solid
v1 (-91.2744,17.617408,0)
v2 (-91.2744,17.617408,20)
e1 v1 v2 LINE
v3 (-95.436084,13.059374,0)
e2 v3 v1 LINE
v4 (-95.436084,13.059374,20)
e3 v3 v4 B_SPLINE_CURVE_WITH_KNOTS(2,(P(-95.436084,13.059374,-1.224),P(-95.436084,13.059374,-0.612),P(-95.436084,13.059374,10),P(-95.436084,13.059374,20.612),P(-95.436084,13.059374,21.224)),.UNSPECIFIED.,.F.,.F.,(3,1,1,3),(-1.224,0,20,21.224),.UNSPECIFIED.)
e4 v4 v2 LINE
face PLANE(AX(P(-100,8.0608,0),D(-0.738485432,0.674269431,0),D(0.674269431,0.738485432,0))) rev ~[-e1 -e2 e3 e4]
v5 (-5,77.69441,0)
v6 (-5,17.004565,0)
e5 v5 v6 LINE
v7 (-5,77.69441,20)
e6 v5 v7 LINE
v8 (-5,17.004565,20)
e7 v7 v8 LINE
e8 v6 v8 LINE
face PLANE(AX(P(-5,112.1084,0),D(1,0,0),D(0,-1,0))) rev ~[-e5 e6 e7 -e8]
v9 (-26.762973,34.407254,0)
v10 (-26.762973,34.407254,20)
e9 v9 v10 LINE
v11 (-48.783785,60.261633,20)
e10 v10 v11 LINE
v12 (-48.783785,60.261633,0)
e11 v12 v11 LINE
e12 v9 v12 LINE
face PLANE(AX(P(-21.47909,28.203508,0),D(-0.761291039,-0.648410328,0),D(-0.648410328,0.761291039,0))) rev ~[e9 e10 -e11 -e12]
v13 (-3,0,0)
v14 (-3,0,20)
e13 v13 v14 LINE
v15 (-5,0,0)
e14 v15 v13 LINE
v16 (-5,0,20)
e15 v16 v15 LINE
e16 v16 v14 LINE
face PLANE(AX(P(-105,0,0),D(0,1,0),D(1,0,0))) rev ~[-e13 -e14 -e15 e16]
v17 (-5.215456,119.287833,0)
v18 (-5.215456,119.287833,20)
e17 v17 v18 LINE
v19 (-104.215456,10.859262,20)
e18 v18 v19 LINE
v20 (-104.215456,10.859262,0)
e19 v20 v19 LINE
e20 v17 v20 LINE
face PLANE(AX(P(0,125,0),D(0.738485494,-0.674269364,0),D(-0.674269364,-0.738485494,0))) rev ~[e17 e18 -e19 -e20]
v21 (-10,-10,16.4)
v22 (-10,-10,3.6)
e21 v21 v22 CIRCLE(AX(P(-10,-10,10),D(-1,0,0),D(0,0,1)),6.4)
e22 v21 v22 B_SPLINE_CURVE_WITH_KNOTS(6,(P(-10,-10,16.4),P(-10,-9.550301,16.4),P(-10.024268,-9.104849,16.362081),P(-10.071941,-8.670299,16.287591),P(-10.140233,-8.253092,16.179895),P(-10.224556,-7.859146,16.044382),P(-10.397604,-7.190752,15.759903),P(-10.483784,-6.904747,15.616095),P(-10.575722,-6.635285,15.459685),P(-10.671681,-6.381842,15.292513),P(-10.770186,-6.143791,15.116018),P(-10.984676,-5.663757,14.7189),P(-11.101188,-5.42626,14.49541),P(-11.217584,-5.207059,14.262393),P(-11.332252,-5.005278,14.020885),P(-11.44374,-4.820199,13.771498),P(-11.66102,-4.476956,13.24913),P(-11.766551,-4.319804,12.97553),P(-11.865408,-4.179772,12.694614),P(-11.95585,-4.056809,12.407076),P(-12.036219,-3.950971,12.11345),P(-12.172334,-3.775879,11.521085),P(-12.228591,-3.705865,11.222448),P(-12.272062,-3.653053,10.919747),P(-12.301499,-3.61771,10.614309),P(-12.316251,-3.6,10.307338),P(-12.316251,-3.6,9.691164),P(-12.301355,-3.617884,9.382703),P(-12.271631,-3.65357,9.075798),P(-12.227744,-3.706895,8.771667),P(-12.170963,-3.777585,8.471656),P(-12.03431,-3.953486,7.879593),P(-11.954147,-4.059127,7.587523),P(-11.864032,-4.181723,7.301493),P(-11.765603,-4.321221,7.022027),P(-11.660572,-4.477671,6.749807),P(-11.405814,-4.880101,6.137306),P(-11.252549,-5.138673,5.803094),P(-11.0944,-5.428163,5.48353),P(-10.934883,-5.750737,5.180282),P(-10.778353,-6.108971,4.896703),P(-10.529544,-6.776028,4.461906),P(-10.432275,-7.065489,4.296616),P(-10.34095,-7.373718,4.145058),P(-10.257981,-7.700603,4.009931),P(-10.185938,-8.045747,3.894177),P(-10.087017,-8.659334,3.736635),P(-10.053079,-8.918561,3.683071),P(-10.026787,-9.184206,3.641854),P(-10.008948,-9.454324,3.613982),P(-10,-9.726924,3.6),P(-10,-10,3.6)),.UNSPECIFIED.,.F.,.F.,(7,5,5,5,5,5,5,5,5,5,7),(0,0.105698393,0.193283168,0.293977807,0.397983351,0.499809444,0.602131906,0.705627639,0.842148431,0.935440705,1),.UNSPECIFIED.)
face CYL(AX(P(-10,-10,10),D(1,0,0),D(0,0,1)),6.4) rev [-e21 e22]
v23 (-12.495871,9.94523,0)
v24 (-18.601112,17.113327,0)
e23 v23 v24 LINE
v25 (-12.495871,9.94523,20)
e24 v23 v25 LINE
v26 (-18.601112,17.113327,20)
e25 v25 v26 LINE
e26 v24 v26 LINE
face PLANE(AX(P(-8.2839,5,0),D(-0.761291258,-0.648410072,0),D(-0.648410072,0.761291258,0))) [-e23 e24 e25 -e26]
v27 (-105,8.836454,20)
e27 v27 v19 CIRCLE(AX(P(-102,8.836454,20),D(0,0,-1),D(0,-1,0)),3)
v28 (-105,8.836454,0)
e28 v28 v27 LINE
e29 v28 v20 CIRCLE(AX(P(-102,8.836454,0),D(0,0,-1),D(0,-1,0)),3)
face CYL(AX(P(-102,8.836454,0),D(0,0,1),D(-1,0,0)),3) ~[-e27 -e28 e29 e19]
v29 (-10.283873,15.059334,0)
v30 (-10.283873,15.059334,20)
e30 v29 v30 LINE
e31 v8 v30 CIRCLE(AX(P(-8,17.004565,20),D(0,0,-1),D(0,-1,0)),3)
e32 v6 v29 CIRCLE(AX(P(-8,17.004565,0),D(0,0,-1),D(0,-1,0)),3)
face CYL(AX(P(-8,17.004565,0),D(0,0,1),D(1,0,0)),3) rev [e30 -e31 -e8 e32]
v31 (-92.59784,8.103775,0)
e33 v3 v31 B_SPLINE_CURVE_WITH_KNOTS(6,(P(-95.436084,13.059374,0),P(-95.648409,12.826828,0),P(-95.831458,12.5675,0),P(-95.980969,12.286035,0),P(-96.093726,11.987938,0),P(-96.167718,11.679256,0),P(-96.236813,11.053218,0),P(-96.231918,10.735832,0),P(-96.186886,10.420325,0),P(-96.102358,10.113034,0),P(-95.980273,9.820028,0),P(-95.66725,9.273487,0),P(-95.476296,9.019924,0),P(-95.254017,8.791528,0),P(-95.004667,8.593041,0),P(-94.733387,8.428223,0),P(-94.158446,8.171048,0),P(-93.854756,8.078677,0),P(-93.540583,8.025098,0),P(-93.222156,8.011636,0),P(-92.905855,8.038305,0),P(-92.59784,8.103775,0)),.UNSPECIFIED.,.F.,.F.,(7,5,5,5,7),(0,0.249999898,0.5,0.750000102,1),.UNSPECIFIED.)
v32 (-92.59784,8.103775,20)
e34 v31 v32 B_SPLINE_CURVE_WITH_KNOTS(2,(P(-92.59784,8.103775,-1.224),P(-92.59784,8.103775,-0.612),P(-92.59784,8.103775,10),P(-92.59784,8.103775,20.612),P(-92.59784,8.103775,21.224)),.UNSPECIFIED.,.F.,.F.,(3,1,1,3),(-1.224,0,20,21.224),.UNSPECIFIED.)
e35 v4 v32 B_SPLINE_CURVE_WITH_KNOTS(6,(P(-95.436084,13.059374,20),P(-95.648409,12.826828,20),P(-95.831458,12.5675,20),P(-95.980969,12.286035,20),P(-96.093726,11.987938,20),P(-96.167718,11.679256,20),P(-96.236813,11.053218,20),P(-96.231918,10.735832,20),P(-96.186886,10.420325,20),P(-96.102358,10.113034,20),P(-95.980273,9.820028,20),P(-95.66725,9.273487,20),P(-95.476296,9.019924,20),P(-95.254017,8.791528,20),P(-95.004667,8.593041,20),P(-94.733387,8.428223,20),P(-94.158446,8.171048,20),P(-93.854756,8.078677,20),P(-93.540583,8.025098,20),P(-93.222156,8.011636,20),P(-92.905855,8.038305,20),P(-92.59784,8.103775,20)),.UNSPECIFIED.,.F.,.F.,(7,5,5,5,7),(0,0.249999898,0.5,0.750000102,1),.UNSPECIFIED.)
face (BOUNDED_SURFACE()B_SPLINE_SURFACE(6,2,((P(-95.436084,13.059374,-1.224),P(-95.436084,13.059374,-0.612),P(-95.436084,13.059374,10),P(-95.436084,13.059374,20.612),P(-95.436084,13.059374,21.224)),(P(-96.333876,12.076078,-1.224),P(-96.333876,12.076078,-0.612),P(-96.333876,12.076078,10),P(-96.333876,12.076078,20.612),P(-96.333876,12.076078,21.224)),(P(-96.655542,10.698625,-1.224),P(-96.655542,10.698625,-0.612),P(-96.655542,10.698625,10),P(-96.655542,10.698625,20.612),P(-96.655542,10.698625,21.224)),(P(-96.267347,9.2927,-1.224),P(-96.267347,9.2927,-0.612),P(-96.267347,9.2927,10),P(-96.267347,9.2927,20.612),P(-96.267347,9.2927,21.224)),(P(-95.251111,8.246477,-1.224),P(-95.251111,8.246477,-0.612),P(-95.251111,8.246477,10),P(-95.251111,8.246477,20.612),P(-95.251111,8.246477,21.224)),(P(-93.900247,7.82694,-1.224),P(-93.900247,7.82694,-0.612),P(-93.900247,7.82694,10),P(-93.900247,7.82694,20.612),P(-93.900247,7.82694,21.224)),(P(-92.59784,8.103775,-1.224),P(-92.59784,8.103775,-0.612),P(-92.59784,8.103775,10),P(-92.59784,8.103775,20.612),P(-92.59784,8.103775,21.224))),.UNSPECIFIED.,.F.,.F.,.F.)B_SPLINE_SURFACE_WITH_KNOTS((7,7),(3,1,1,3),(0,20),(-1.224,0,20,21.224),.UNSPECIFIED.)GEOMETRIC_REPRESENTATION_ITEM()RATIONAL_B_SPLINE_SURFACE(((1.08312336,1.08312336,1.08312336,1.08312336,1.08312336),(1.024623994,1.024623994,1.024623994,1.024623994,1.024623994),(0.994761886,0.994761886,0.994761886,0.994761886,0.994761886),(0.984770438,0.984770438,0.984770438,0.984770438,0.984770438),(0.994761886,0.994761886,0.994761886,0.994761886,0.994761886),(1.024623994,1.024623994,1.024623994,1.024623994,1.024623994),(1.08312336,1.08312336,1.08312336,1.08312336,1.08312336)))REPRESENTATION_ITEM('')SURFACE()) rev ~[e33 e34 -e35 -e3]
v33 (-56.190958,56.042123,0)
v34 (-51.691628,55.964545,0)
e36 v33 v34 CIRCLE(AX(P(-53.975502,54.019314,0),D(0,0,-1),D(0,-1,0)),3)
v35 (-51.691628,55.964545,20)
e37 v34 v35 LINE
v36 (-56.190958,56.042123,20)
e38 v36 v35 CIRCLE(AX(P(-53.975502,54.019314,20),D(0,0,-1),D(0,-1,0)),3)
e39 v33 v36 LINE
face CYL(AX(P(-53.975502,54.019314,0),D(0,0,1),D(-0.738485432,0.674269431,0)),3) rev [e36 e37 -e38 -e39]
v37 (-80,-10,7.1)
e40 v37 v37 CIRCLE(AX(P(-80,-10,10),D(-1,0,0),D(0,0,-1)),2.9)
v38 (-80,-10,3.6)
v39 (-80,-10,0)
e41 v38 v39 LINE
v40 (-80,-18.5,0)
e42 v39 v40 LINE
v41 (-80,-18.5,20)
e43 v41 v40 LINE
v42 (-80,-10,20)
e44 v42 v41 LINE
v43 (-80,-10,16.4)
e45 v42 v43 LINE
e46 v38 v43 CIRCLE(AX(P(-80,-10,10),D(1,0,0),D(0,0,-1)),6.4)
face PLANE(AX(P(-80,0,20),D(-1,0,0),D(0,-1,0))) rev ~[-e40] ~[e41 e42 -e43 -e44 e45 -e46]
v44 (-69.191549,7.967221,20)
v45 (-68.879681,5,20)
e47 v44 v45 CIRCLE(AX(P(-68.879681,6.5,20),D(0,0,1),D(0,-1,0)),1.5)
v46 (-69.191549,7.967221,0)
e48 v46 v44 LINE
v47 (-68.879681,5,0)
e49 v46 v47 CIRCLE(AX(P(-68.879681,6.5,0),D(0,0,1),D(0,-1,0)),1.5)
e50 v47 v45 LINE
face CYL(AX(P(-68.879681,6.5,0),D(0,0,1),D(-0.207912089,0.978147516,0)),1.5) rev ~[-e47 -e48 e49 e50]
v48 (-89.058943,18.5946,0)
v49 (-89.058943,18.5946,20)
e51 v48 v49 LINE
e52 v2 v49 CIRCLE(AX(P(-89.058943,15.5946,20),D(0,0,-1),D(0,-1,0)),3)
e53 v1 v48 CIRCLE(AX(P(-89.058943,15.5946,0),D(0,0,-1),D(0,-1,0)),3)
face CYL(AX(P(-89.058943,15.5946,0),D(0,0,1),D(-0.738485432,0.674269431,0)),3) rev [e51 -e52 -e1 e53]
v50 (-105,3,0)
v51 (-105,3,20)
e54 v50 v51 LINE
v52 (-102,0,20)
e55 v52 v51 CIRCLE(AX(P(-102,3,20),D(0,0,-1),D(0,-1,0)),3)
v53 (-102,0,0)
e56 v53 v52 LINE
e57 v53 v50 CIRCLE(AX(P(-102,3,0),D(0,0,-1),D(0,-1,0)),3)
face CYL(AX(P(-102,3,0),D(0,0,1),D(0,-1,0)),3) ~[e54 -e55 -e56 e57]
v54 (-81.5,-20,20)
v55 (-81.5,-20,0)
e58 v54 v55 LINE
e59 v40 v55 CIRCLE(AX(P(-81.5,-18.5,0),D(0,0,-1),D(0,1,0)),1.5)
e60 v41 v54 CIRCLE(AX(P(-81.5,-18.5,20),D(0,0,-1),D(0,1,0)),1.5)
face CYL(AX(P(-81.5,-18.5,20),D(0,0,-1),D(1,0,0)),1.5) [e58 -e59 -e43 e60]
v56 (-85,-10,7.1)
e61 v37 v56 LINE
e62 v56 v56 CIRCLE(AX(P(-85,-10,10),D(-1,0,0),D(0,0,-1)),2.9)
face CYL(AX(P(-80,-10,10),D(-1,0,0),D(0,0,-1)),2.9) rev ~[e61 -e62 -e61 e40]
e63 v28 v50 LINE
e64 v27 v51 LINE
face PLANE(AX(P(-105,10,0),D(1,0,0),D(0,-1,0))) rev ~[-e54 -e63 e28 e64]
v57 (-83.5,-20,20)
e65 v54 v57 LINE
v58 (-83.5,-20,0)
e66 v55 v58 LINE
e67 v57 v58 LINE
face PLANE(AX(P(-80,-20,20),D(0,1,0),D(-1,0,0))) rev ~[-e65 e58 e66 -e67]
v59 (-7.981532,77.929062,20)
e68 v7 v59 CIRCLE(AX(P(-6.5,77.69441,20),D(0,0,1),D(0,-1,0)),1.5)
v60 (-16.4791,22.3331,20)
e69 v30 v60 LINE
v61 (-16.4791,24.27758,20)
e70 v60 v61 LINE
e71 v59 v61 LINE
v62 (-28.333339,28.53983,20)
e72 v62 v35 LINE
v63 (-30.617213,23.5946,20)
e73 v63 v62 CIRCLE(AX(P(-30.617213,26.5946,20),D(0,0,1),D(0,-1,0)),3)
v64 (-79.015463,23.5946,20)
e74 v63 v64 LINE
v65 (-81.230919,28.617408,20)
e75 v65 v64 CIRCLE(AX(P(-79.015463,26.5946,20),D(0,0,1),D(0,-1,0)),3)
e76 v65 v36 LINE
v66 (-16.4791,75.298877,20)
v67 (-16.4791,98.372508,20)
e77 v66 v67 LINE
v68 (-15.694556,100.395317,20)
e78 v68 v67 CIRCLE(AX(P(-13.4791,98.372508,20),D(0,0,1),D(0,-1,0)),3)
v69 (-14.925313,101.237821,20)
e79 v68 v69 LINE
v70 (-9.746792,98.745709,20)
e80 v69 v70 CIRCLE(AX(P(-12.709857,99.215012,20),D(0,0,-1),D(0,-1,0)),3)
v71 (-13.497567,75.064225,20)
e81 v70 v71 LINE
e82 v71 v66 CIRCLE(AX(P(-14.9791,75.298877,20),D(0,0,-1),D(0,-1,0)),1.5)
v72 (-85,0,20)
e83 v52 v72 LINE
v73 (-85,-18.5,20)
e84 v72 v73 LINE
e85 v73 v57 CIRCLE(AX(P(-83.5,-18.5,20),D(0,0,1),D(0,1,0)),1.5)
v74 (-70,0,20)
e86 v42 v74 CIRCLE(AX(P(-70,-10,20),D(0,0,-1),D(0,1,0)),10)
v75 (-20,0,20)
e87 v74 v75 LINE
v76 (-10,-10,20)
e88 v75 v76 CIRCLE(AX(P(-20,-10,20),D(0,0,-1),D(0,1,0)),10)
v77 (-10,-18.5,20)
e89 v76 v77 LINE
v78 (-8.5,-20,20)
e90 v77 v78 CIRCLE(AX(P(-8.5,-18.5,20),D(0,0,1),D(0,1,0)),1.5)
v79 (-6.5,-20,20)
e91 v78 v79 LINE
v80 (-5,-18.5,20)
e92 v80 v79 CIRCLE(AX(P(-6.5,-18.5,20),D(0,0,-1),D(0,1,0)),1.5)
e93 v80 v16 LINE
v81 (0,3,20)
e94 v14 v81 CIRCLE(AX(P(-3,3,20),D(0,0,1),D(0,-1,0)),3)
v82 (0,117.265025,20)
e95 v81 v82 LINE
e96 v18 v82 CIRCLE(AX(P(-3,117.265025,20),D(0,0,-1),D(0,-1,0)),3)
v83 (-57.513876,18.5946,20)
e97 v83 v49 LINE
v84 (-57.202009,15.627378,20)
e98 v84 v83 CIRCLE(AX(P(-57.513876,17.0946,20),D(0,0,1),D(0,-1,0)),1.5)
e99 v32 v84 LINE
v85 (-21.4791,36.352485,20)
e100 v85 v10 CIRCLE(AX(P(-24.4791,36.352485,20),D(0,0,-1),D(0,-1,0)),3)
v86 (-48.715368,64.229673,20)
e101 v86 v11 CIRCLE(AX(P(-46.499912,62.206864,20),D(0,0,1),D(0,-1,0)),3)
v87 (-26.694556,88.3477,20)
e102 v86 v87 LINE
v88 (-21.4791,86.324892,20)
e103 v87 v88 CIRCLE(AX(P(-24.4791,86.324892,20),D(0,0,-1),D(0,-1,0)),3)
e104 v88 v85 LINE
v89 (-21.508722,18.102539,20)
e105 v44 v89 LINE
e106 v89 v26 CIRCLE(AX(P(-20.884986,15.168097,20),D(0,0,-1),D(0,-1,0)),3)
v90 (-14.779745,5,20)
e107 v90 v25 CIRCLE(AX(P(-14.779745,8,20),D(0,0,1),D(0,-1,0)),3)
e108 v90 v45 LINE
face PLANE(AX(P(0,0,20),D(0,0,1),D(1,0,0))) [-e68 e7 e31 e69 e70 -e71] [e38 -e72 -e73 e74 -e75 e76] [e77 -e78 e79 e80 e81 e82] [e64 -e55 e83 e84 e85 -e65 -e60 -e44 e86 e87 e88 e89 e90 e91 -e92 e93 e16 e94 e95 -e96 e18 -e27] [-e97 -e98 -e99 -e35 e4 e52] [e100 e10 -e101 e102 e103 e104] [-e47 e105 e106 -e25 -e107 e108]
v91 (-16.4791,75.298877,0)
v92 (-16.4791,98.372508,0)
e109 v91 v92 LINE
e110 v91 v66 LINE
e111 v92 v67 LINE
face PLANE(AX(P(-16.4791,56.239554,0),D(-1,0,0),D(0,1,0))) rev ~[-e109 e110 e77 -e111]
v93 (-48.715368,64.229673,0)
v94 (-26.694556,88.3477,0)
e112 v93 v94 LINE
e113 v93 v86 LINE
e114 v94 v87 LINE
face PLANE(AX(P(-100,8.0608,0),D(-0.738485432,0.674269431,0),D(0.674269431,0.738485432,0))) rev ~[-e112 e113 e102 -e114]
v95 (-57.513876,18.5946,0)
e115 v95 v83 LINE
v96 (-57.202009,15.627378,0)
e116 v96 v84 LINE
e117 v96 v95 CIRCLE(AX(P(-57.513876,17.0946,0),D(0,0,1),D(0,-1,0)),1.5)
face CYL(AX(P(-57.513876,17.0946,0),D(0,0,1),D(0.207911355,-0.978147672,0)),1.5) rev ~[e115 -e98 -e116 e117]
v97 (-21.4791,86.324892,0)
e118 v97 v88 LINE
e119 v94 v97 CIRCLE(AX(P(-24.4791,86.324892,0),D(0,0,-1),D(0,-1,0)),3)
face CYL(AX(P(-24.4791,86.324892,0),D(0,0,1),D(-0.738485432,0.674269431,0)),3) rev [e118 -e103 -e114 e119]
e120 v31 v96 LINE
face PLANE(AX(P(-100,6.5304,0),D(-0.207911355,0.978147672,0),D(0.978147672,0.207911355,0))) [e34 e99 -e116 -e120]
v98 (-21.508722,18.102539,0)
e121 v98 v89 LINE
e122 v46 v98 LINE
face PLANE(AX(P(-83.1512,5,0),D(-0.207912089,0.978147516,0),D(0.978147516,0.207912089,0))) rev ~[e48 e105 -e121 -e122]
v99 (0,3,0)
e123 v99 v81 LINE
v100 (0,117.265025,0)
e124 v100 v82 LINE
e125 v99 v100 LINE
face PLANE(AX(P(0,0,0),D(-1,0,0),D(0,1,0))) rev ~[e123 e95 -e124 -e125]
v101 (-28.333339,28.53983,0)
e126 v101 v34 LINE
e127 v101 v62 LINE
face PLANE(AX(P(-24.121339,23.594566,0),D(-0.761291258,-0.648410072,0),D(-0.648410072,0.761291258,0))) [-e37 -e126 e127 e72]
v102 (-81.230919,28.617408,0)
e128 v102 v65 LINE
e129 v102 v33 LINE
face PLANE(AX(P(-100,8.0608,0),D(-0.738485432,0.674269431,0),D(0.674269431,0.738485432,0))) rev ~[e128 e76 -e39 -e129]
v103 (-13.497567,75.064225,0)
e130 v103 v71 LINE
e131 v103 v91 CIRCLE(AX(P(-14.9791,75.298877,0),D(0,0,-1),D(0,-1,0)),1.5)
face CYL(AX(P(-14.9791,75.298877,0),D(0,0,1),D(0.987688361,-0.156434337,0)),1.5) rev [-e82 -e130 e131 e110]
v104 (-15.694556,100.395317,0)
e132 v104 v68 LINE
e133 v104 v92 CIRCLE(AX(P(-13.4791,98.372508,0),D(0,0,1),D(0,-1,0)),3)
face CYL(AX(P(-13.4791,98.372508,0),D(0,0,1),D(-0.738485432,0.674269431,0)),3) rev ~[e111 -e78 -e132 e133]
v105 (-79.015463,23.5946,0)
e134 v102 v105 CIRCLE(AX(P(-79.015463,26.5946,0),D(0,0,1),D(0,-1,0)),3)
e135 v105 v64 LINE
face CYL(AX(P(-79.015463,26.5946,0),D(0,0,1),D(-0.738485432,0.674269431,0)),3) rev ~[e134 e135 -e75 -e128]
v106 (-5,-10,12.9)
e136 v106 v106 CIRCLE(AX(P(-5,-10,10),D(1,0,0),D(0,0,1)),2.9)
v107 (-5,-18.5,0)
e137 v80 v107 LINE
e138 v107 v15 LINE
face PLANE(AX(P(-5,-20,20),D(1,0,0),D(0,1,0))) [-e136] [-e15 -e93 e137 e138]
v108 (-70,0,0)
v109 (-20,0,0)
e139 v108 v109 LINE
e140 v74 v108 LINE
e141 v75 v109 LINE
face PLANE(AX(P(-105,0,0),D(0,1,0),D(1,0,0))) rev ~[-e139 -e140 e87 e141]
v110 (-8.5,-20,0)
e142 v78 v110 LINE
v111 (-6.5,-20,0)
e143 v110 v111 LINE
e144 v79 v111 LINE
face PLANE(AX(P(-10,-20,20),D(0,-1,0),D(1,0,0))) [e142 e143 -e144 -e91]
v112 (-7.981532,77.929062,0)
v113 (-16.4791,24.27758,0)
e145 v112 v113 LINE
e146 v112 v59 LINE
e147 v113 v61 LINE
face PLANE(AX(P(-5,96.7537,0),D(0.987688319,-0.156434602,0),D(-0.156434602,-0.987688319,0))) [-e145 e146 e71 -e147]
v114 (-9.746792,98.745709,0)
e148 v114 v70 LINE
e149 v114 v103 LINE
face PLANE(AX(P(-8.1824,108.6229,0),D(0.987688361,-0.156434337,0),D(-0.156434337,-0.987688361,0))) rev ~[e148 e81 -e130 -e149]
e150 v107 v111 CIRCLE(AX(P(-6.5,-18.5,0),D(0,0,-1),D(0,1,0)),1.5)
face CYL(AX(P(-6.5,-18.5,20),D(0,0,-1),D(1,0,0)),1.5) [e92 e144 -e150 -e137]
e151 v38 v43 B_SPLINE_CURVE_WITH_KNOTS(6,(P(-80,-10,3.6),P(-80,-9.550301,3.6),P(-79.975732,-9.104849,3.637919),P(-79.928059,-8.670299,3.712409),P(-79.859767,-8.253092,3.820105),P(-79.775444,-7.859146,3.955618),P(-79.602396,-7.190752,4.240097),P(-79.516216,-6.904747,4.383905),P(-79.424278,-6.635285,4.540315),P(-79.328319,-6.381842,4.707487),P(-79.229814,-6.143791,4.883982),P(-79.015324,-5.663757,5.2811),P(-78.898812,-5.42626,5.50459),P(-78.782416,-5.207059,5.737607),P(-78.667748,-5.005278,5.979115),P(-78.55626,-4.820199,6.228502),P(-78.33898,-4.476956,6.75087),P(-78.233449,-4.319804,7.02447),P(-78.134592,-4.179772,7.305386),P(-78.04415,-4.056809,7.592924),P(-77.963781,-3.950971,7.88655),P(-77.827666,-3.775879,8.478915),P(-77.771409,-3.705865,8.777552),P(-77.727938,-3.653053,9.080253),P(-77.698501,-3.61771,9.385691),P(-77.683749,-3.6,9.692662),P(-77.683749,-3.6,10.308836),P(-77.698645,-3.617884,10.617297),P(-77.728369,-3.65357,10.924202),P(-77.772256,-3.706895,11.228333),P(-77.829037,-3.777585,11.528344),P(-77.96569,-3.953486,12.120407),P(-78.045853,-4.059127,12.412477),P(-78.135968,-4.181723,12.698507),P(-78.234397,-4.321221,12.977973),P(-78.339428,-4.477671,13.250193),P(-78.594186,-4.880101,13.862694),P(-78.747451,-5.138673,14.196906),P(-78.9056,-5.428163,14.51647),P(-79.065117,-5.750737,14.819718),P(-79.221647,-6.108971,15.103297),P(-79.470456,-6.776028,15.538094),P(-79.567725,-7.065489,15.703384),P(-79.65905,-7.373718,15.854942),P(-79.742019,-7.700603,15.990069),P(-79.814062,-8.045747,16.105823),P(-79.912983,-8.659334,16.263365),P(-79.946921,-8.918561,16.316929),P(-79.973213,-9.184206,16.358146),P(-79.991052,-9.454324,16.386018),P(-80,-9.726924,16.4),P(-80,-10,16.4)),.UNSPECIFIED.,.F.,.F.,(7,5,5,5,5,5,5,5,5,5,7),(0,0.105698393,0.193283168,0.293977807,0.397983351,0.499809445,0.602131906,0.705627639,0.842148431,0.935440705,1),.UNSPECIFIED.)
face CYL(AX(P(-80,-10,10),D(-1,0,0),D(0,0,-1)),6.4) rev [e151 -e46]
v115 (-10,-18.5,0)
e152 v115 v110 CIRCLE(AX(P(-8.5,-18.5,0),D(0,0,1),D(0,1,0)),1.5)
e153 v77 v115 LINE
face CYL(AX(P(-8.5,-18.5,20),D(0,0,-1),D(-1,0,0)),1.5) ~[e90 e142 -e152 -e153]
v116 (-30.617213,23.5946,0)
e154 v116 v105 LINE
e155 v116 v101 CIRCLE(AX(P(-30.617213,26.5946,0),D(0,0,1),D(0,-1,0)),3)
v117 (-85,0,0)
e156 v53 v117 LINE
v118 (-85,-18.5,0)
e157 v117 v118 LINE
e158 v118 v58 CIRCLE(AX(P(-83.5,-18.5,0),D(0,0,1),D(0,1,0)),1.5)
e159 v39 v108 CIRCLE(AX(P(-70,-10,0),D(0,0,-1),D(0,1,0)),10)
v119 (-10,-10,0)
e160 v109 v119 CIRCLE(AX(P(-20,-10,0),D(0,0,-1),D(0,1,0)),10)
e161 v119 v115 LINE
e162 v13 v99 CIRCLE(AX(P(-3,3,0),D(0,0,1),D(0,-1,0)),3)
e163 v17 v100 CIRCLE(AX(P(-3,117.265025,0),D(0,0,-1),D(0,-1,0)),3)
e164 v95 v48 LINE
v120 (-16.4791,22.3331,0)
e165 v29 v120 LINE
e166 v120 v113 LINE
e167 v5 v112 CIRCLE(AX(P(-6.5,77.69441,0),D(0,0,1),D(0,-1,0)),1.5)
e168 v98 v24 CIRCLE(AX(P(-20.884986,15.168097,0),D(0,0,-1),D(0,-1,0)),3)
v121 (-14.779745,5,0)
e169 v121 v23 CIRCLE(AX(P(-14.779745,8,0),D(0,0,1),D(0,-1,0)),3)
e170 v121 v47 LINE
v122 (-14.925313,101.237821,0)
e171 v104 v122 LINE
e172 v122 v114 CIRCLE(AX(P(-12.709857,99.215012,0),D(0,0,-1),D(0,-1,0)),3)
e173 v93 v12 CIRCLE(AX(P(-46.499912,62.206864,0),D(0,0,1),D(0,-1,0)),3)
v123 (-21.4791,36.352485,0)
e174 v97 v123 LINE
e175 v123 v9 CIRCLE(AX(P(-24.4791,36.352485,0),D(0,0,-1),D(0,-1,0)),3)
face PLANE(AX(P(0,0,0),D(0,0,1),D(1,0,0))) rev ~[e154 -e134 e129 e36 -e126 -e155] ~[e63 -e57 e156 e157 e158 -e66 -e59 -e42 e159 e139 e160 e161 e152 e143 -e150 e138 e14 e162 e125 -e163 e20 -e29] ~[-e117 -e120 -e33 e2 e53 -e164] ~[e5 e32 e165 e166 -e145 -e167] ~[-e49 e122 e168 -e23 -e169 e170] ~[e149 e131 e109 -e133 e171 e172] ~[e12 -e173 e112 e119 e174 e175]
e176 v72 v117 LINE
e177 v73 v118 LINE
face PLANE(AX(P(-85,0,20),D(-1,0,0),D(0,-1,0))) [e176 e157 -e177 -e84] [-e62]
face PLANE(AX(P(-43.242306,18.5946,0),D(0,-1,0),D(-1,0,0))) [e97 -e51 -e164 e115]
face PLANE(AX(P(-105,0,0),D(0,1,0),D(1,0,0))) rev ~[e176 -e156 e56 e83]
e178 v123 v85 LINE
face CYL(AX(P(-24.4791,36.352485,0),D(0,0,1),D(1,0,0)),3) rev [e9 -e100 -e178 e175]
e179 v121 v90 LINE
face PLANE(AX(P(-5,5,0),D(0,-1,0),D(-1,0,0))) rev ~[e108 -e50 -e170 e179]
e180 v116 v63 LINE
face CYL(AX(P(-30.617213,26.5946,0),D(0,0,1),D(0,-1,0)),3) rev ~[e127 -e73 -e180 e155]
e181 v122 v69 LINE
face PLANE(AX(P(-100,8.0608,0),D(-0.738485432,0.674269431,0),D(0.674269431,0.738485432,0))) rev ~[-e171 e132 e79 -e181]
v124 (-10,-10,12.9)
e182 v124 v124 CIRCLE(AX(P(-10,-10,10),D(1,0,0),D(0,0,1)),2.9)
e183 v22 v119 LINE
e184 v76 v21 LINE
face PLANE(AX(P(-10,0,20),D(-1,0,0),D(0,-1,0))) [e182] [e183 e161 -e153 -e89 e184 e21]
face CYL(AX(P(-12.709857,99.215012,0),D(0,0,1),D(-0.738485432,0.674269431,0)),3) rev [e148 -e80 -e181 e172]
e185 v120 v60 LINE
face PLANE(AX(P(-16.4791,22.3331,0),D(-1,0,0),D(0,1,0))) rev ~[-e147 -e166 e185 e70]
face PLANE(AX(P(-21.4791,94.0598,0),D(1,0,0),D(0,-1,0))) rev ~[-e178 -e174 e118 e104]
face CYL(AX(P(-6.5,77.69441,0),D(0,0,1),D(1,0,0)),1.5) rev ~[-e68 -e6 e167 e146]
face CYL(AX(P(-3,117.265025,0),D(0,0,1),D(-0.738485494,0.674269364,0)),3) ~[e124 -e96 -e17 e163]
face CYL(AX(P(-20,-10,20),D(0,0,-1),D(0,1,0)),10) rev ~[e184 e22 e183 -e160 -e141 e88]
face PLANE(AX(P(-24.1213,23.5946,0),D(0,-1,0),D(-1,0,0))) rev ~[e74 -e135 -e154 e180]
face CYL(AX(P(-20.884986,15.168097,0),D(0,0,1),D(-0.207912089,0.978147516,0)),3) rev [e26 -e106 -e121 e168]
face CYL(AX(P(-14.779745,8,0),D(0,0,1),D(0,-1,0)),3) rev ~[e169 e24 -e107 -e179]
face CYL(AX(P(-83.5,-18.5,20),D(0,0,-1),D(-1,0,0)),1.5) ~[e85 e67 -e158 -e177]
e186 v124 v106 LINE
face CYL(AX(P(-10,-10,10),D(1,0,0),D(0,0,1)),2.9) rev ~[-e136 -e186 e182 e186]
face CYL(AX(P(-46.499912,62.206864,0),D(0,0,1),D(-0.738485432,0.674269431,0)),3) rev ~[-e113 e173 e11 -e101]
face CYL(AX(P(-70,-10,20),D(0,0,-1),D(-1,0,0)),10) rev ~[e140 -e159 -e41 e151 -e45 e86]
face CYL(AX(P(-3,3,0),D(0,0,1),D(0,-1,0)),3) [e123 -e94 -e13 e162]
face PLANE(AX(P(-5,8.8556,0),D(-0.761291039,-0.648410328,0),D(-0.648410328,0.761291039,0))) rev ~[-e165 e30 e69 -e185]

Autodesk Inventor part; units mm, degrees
ref_plane "YZ Plane" through (0, 0, 0) normal (1, 0, 0) x (0, 1, 0)
ref_plane "XZ Plane" through (0, 0, 0) normal (0, 1, 0) x (-1, 0, 0)
ref_plane "XY Plane" through (0, 0, 0) normal (0, 0, 1) x (1, 0, 0)
sketch "Sketch1" plane through (0, 0, 0) normal (0, 0, 1) x (1, 0, 0)
  line L0 (0, 0) -> (0, 125)
  line L1 (0, 125) -> (-105, 10)
  line L2 (-105, 10) -> (-105, 0)
  line L3 (-105, 0) -> (0, 0)
  line L4 (-100, 8.0608) -> (-5, 112.1084)
  line L5 (-5, 112.1084) -> (-5, 5)
  line L6 (-5, 5) -> (-100, 5)
  line L7 (-100, 5) -> (-100, 8.0608)
  point P0 (-52.5, 62.5)
  point P1 (-52.5, 0)
  point P2 (0, 62.5)
  dimension "d0" = 10
  dimension "d1" = 105
  dimension "d2" = 125
  dimension "d3" = 5
extrude "Extrusion1" add sketch "Sketch1" along normal blind 20
sketch "Sketch2" plane through (0, 0, 0) normal (0, 0, -1) x (-1, 0, 0)
  line L0 (5, 112.1084) -> (5, 5) projected
  line L1 (5, 8.8556) -> (50.4993, 62.2758)
  line L2 (100, 8.0608) -> (5, 112.1084) projected
  line L3 (5, 5) -> (100, 5) projected
  line L4 (8.2839, 5) -> (53.8973, 58.5542)
  line L5 (16.4791, 22.3331) -> (16.4791, 99.536)
  line L6 (21.4791, 94.0598) -> (21.4791, 28.2035)
  line L7 (24.1213, 23.5946) -> (85.817, 23.5946)
  line L8 (19.8627, 18.5946) -> (90.3822, 18.5946)
  line L9 (100, 5) -> (100, 8.0608) projected
  line L10 (100, 6.5304) -> (23.4466, 22.8023)
  line L11 (83.1512, 5) -> (19.7602, 18.4742)
  line L12 (8.1824, 108.6229) -> (21.0073, 27.6496)
  line L13 (5, 96.7537) -> (16.7388, 22.6379)
  point P0 (0, 0)
  point P1 (16.4791, 56.2397)
  point P2 (43.2425, 18.5946)
  point P3 (16.4791, 24.2774)
  dimension "d8" = 2.5
  dimension "d9" = 2.5
  dimension "d10" = 5
  dimension "d11" = 5
  dimension "d16" = 5
  dimension "d17" = 12
  dimension "d18" = 5
  dimension "d19" = 9
extrude "Extrusion2" add sketch "Sketch2" against normal blind 20 contours L2 L12 L5 L13 L0 | L1 L2 L4 L3 L0 | L13 L1 L5 | L5 L12 L1 L13 | L2 L6 L1 L12 L5 | L11 L4 L8 L10 L9 L3 | L4 L10 L8 | L2 L8 L10 L4 L7
fillet "Fillet1" radius 3 18 edges at (-90.3822, 18.5946, 10) (-53.8973, 58.5542, 10) (-85.817, 23.5946, 10) (-24.1213, 23.5946, 10) (-50.4993, 62.2758, 10) (-21.4791, 94.0598, 10) (-16.4791, 99.536, 10) (-21.4791, 28.2035, 10) (0, 0, 10) (-5, 8.8556, 10) (-8.2839, 5, 10) (-105, 0, 10) (-100, 8.0608, 10) (-105, 10, 10) (0, 125, 10) (-19.7602, 18.4742, 10) (-100, 6.5304, 10) (-8.1824, 108.6229, 10)
fillet "Fillet2" radius 1.5 4 edges at (-16.4791, 56.2397, 10) (-43.2425, 18.5946, 10) (-5, 96.7537, 10) (-83.1512, 5, 10)
sketch "Sketch5" plane through (0, 0, 20) normal (0, 0, 1) x (1, 0, 0)
  line L0 (-102, 0) -> (-3, 0) projected
  line L1 (-85, 0) -> (-85, -20)
  line L2 (-80, 0) -> (-80, -20)
  line L3 (-80, -20) -> (-85, -20)
  line L4 (-10, 0) -> (-10, -20)
  line L5 (-10, -20) -> (-5, -20)
  line L6 (-5, -20) -> (-5, 0)
  line L7 (-105, 8.8365) -> (-105, 3) projected
  point P0 (0, 0)
  dimension "d35" = 5
  dimension "d36" = 20
  dimension "d37" = 80
  dimension "d38" = 5
  dimension "d52" = 20
extrude "Extrusion3" add sketch "Sketch5" against normal up to surface (20 mm away)
fillet "Fillet3" radius 1.5 4 edges at (-80, -20, 10) (-85, -20, 10) (-10, -20, 10) (-5, -20, 10)
fillet "Fillet4" radius 10 2 edges at (-80, 0, 10) (-10, 0, 10)
sketch "Sketch6" plane through (-10, -18.5, 0) normal (-1, 0, 0) x (0, 0, 1)
  line L0 (0, -1.5) -> (20, -1.5) projected
  line L1 (0, 0) -> (0, 8.5) projected
  point P0 (0, 18.5)
  point P1 (10, 8.5)
  dimension "d50" = 10
  dimension "d51" = 10
hole "Hole2" at (-10, -10, 10) direction (1, 0, 0) diameter 5.8 end through all clearance for "Flat Head Machine Screw" size "M5" standard "Ansi Metric M Profile"
sketch "Sketch7" plane through (-10, -18.5, 0) normal (-1, 0, 0) x (0, 0, 1)
  arc A0 (12.9, 8.5) -> (7.1, 8.5) centre (10, 8.5) ccw projected
  circle A1 centre (10, 8.5) radius 6.4
  arc A2 (7.1, 8.5) -> (12.9, 8.5) centre (10, 8.5) ccw projected
  point P0 (0, 18.5)
  dimension "d53" = 3.5
extrude "Extrusion4" cut sketch "Sketch7" along normal blind 10 contours A2 A0 | A1
sketch "Sketch8" plane through (-80, -18.5, 20) normal (1, 0, 0) x (0, 0, -1)
  line L0 (20, 8.5) -> (20, 0) projected
  line L1 (0, -1.5) -> (20, -1.5) projected
  point P0 (20, 18.5)
  point P1 (10, 8.5)
  dimension "d63" = 10
  dimension "d64" = 10
hole "Hole3" at (-80, -10, 10) direction (-1, 0, 0) diameter 5.8 end through all clearance for "Flat Head Machine Screw" size "M5" standard "Ansi Metric M Profile"
sketch "Sketch9" plane through (-80, -18.5, 20) normal (1, 0, 0) x (0, 0, -1)
  line L0 (7.1, 8.5) -> (12.9, 8.5) projected
  circle A0 centre (10, 8.5) radius 6.4
  point P0 (20, 18.5)
extrude "Extrusion5" cut sketch "Sketch9" along normal blind 10
equation "\"d9\" = d8"
equation "\"d35\" = d38"
properties part number "Controls Mid Support"
